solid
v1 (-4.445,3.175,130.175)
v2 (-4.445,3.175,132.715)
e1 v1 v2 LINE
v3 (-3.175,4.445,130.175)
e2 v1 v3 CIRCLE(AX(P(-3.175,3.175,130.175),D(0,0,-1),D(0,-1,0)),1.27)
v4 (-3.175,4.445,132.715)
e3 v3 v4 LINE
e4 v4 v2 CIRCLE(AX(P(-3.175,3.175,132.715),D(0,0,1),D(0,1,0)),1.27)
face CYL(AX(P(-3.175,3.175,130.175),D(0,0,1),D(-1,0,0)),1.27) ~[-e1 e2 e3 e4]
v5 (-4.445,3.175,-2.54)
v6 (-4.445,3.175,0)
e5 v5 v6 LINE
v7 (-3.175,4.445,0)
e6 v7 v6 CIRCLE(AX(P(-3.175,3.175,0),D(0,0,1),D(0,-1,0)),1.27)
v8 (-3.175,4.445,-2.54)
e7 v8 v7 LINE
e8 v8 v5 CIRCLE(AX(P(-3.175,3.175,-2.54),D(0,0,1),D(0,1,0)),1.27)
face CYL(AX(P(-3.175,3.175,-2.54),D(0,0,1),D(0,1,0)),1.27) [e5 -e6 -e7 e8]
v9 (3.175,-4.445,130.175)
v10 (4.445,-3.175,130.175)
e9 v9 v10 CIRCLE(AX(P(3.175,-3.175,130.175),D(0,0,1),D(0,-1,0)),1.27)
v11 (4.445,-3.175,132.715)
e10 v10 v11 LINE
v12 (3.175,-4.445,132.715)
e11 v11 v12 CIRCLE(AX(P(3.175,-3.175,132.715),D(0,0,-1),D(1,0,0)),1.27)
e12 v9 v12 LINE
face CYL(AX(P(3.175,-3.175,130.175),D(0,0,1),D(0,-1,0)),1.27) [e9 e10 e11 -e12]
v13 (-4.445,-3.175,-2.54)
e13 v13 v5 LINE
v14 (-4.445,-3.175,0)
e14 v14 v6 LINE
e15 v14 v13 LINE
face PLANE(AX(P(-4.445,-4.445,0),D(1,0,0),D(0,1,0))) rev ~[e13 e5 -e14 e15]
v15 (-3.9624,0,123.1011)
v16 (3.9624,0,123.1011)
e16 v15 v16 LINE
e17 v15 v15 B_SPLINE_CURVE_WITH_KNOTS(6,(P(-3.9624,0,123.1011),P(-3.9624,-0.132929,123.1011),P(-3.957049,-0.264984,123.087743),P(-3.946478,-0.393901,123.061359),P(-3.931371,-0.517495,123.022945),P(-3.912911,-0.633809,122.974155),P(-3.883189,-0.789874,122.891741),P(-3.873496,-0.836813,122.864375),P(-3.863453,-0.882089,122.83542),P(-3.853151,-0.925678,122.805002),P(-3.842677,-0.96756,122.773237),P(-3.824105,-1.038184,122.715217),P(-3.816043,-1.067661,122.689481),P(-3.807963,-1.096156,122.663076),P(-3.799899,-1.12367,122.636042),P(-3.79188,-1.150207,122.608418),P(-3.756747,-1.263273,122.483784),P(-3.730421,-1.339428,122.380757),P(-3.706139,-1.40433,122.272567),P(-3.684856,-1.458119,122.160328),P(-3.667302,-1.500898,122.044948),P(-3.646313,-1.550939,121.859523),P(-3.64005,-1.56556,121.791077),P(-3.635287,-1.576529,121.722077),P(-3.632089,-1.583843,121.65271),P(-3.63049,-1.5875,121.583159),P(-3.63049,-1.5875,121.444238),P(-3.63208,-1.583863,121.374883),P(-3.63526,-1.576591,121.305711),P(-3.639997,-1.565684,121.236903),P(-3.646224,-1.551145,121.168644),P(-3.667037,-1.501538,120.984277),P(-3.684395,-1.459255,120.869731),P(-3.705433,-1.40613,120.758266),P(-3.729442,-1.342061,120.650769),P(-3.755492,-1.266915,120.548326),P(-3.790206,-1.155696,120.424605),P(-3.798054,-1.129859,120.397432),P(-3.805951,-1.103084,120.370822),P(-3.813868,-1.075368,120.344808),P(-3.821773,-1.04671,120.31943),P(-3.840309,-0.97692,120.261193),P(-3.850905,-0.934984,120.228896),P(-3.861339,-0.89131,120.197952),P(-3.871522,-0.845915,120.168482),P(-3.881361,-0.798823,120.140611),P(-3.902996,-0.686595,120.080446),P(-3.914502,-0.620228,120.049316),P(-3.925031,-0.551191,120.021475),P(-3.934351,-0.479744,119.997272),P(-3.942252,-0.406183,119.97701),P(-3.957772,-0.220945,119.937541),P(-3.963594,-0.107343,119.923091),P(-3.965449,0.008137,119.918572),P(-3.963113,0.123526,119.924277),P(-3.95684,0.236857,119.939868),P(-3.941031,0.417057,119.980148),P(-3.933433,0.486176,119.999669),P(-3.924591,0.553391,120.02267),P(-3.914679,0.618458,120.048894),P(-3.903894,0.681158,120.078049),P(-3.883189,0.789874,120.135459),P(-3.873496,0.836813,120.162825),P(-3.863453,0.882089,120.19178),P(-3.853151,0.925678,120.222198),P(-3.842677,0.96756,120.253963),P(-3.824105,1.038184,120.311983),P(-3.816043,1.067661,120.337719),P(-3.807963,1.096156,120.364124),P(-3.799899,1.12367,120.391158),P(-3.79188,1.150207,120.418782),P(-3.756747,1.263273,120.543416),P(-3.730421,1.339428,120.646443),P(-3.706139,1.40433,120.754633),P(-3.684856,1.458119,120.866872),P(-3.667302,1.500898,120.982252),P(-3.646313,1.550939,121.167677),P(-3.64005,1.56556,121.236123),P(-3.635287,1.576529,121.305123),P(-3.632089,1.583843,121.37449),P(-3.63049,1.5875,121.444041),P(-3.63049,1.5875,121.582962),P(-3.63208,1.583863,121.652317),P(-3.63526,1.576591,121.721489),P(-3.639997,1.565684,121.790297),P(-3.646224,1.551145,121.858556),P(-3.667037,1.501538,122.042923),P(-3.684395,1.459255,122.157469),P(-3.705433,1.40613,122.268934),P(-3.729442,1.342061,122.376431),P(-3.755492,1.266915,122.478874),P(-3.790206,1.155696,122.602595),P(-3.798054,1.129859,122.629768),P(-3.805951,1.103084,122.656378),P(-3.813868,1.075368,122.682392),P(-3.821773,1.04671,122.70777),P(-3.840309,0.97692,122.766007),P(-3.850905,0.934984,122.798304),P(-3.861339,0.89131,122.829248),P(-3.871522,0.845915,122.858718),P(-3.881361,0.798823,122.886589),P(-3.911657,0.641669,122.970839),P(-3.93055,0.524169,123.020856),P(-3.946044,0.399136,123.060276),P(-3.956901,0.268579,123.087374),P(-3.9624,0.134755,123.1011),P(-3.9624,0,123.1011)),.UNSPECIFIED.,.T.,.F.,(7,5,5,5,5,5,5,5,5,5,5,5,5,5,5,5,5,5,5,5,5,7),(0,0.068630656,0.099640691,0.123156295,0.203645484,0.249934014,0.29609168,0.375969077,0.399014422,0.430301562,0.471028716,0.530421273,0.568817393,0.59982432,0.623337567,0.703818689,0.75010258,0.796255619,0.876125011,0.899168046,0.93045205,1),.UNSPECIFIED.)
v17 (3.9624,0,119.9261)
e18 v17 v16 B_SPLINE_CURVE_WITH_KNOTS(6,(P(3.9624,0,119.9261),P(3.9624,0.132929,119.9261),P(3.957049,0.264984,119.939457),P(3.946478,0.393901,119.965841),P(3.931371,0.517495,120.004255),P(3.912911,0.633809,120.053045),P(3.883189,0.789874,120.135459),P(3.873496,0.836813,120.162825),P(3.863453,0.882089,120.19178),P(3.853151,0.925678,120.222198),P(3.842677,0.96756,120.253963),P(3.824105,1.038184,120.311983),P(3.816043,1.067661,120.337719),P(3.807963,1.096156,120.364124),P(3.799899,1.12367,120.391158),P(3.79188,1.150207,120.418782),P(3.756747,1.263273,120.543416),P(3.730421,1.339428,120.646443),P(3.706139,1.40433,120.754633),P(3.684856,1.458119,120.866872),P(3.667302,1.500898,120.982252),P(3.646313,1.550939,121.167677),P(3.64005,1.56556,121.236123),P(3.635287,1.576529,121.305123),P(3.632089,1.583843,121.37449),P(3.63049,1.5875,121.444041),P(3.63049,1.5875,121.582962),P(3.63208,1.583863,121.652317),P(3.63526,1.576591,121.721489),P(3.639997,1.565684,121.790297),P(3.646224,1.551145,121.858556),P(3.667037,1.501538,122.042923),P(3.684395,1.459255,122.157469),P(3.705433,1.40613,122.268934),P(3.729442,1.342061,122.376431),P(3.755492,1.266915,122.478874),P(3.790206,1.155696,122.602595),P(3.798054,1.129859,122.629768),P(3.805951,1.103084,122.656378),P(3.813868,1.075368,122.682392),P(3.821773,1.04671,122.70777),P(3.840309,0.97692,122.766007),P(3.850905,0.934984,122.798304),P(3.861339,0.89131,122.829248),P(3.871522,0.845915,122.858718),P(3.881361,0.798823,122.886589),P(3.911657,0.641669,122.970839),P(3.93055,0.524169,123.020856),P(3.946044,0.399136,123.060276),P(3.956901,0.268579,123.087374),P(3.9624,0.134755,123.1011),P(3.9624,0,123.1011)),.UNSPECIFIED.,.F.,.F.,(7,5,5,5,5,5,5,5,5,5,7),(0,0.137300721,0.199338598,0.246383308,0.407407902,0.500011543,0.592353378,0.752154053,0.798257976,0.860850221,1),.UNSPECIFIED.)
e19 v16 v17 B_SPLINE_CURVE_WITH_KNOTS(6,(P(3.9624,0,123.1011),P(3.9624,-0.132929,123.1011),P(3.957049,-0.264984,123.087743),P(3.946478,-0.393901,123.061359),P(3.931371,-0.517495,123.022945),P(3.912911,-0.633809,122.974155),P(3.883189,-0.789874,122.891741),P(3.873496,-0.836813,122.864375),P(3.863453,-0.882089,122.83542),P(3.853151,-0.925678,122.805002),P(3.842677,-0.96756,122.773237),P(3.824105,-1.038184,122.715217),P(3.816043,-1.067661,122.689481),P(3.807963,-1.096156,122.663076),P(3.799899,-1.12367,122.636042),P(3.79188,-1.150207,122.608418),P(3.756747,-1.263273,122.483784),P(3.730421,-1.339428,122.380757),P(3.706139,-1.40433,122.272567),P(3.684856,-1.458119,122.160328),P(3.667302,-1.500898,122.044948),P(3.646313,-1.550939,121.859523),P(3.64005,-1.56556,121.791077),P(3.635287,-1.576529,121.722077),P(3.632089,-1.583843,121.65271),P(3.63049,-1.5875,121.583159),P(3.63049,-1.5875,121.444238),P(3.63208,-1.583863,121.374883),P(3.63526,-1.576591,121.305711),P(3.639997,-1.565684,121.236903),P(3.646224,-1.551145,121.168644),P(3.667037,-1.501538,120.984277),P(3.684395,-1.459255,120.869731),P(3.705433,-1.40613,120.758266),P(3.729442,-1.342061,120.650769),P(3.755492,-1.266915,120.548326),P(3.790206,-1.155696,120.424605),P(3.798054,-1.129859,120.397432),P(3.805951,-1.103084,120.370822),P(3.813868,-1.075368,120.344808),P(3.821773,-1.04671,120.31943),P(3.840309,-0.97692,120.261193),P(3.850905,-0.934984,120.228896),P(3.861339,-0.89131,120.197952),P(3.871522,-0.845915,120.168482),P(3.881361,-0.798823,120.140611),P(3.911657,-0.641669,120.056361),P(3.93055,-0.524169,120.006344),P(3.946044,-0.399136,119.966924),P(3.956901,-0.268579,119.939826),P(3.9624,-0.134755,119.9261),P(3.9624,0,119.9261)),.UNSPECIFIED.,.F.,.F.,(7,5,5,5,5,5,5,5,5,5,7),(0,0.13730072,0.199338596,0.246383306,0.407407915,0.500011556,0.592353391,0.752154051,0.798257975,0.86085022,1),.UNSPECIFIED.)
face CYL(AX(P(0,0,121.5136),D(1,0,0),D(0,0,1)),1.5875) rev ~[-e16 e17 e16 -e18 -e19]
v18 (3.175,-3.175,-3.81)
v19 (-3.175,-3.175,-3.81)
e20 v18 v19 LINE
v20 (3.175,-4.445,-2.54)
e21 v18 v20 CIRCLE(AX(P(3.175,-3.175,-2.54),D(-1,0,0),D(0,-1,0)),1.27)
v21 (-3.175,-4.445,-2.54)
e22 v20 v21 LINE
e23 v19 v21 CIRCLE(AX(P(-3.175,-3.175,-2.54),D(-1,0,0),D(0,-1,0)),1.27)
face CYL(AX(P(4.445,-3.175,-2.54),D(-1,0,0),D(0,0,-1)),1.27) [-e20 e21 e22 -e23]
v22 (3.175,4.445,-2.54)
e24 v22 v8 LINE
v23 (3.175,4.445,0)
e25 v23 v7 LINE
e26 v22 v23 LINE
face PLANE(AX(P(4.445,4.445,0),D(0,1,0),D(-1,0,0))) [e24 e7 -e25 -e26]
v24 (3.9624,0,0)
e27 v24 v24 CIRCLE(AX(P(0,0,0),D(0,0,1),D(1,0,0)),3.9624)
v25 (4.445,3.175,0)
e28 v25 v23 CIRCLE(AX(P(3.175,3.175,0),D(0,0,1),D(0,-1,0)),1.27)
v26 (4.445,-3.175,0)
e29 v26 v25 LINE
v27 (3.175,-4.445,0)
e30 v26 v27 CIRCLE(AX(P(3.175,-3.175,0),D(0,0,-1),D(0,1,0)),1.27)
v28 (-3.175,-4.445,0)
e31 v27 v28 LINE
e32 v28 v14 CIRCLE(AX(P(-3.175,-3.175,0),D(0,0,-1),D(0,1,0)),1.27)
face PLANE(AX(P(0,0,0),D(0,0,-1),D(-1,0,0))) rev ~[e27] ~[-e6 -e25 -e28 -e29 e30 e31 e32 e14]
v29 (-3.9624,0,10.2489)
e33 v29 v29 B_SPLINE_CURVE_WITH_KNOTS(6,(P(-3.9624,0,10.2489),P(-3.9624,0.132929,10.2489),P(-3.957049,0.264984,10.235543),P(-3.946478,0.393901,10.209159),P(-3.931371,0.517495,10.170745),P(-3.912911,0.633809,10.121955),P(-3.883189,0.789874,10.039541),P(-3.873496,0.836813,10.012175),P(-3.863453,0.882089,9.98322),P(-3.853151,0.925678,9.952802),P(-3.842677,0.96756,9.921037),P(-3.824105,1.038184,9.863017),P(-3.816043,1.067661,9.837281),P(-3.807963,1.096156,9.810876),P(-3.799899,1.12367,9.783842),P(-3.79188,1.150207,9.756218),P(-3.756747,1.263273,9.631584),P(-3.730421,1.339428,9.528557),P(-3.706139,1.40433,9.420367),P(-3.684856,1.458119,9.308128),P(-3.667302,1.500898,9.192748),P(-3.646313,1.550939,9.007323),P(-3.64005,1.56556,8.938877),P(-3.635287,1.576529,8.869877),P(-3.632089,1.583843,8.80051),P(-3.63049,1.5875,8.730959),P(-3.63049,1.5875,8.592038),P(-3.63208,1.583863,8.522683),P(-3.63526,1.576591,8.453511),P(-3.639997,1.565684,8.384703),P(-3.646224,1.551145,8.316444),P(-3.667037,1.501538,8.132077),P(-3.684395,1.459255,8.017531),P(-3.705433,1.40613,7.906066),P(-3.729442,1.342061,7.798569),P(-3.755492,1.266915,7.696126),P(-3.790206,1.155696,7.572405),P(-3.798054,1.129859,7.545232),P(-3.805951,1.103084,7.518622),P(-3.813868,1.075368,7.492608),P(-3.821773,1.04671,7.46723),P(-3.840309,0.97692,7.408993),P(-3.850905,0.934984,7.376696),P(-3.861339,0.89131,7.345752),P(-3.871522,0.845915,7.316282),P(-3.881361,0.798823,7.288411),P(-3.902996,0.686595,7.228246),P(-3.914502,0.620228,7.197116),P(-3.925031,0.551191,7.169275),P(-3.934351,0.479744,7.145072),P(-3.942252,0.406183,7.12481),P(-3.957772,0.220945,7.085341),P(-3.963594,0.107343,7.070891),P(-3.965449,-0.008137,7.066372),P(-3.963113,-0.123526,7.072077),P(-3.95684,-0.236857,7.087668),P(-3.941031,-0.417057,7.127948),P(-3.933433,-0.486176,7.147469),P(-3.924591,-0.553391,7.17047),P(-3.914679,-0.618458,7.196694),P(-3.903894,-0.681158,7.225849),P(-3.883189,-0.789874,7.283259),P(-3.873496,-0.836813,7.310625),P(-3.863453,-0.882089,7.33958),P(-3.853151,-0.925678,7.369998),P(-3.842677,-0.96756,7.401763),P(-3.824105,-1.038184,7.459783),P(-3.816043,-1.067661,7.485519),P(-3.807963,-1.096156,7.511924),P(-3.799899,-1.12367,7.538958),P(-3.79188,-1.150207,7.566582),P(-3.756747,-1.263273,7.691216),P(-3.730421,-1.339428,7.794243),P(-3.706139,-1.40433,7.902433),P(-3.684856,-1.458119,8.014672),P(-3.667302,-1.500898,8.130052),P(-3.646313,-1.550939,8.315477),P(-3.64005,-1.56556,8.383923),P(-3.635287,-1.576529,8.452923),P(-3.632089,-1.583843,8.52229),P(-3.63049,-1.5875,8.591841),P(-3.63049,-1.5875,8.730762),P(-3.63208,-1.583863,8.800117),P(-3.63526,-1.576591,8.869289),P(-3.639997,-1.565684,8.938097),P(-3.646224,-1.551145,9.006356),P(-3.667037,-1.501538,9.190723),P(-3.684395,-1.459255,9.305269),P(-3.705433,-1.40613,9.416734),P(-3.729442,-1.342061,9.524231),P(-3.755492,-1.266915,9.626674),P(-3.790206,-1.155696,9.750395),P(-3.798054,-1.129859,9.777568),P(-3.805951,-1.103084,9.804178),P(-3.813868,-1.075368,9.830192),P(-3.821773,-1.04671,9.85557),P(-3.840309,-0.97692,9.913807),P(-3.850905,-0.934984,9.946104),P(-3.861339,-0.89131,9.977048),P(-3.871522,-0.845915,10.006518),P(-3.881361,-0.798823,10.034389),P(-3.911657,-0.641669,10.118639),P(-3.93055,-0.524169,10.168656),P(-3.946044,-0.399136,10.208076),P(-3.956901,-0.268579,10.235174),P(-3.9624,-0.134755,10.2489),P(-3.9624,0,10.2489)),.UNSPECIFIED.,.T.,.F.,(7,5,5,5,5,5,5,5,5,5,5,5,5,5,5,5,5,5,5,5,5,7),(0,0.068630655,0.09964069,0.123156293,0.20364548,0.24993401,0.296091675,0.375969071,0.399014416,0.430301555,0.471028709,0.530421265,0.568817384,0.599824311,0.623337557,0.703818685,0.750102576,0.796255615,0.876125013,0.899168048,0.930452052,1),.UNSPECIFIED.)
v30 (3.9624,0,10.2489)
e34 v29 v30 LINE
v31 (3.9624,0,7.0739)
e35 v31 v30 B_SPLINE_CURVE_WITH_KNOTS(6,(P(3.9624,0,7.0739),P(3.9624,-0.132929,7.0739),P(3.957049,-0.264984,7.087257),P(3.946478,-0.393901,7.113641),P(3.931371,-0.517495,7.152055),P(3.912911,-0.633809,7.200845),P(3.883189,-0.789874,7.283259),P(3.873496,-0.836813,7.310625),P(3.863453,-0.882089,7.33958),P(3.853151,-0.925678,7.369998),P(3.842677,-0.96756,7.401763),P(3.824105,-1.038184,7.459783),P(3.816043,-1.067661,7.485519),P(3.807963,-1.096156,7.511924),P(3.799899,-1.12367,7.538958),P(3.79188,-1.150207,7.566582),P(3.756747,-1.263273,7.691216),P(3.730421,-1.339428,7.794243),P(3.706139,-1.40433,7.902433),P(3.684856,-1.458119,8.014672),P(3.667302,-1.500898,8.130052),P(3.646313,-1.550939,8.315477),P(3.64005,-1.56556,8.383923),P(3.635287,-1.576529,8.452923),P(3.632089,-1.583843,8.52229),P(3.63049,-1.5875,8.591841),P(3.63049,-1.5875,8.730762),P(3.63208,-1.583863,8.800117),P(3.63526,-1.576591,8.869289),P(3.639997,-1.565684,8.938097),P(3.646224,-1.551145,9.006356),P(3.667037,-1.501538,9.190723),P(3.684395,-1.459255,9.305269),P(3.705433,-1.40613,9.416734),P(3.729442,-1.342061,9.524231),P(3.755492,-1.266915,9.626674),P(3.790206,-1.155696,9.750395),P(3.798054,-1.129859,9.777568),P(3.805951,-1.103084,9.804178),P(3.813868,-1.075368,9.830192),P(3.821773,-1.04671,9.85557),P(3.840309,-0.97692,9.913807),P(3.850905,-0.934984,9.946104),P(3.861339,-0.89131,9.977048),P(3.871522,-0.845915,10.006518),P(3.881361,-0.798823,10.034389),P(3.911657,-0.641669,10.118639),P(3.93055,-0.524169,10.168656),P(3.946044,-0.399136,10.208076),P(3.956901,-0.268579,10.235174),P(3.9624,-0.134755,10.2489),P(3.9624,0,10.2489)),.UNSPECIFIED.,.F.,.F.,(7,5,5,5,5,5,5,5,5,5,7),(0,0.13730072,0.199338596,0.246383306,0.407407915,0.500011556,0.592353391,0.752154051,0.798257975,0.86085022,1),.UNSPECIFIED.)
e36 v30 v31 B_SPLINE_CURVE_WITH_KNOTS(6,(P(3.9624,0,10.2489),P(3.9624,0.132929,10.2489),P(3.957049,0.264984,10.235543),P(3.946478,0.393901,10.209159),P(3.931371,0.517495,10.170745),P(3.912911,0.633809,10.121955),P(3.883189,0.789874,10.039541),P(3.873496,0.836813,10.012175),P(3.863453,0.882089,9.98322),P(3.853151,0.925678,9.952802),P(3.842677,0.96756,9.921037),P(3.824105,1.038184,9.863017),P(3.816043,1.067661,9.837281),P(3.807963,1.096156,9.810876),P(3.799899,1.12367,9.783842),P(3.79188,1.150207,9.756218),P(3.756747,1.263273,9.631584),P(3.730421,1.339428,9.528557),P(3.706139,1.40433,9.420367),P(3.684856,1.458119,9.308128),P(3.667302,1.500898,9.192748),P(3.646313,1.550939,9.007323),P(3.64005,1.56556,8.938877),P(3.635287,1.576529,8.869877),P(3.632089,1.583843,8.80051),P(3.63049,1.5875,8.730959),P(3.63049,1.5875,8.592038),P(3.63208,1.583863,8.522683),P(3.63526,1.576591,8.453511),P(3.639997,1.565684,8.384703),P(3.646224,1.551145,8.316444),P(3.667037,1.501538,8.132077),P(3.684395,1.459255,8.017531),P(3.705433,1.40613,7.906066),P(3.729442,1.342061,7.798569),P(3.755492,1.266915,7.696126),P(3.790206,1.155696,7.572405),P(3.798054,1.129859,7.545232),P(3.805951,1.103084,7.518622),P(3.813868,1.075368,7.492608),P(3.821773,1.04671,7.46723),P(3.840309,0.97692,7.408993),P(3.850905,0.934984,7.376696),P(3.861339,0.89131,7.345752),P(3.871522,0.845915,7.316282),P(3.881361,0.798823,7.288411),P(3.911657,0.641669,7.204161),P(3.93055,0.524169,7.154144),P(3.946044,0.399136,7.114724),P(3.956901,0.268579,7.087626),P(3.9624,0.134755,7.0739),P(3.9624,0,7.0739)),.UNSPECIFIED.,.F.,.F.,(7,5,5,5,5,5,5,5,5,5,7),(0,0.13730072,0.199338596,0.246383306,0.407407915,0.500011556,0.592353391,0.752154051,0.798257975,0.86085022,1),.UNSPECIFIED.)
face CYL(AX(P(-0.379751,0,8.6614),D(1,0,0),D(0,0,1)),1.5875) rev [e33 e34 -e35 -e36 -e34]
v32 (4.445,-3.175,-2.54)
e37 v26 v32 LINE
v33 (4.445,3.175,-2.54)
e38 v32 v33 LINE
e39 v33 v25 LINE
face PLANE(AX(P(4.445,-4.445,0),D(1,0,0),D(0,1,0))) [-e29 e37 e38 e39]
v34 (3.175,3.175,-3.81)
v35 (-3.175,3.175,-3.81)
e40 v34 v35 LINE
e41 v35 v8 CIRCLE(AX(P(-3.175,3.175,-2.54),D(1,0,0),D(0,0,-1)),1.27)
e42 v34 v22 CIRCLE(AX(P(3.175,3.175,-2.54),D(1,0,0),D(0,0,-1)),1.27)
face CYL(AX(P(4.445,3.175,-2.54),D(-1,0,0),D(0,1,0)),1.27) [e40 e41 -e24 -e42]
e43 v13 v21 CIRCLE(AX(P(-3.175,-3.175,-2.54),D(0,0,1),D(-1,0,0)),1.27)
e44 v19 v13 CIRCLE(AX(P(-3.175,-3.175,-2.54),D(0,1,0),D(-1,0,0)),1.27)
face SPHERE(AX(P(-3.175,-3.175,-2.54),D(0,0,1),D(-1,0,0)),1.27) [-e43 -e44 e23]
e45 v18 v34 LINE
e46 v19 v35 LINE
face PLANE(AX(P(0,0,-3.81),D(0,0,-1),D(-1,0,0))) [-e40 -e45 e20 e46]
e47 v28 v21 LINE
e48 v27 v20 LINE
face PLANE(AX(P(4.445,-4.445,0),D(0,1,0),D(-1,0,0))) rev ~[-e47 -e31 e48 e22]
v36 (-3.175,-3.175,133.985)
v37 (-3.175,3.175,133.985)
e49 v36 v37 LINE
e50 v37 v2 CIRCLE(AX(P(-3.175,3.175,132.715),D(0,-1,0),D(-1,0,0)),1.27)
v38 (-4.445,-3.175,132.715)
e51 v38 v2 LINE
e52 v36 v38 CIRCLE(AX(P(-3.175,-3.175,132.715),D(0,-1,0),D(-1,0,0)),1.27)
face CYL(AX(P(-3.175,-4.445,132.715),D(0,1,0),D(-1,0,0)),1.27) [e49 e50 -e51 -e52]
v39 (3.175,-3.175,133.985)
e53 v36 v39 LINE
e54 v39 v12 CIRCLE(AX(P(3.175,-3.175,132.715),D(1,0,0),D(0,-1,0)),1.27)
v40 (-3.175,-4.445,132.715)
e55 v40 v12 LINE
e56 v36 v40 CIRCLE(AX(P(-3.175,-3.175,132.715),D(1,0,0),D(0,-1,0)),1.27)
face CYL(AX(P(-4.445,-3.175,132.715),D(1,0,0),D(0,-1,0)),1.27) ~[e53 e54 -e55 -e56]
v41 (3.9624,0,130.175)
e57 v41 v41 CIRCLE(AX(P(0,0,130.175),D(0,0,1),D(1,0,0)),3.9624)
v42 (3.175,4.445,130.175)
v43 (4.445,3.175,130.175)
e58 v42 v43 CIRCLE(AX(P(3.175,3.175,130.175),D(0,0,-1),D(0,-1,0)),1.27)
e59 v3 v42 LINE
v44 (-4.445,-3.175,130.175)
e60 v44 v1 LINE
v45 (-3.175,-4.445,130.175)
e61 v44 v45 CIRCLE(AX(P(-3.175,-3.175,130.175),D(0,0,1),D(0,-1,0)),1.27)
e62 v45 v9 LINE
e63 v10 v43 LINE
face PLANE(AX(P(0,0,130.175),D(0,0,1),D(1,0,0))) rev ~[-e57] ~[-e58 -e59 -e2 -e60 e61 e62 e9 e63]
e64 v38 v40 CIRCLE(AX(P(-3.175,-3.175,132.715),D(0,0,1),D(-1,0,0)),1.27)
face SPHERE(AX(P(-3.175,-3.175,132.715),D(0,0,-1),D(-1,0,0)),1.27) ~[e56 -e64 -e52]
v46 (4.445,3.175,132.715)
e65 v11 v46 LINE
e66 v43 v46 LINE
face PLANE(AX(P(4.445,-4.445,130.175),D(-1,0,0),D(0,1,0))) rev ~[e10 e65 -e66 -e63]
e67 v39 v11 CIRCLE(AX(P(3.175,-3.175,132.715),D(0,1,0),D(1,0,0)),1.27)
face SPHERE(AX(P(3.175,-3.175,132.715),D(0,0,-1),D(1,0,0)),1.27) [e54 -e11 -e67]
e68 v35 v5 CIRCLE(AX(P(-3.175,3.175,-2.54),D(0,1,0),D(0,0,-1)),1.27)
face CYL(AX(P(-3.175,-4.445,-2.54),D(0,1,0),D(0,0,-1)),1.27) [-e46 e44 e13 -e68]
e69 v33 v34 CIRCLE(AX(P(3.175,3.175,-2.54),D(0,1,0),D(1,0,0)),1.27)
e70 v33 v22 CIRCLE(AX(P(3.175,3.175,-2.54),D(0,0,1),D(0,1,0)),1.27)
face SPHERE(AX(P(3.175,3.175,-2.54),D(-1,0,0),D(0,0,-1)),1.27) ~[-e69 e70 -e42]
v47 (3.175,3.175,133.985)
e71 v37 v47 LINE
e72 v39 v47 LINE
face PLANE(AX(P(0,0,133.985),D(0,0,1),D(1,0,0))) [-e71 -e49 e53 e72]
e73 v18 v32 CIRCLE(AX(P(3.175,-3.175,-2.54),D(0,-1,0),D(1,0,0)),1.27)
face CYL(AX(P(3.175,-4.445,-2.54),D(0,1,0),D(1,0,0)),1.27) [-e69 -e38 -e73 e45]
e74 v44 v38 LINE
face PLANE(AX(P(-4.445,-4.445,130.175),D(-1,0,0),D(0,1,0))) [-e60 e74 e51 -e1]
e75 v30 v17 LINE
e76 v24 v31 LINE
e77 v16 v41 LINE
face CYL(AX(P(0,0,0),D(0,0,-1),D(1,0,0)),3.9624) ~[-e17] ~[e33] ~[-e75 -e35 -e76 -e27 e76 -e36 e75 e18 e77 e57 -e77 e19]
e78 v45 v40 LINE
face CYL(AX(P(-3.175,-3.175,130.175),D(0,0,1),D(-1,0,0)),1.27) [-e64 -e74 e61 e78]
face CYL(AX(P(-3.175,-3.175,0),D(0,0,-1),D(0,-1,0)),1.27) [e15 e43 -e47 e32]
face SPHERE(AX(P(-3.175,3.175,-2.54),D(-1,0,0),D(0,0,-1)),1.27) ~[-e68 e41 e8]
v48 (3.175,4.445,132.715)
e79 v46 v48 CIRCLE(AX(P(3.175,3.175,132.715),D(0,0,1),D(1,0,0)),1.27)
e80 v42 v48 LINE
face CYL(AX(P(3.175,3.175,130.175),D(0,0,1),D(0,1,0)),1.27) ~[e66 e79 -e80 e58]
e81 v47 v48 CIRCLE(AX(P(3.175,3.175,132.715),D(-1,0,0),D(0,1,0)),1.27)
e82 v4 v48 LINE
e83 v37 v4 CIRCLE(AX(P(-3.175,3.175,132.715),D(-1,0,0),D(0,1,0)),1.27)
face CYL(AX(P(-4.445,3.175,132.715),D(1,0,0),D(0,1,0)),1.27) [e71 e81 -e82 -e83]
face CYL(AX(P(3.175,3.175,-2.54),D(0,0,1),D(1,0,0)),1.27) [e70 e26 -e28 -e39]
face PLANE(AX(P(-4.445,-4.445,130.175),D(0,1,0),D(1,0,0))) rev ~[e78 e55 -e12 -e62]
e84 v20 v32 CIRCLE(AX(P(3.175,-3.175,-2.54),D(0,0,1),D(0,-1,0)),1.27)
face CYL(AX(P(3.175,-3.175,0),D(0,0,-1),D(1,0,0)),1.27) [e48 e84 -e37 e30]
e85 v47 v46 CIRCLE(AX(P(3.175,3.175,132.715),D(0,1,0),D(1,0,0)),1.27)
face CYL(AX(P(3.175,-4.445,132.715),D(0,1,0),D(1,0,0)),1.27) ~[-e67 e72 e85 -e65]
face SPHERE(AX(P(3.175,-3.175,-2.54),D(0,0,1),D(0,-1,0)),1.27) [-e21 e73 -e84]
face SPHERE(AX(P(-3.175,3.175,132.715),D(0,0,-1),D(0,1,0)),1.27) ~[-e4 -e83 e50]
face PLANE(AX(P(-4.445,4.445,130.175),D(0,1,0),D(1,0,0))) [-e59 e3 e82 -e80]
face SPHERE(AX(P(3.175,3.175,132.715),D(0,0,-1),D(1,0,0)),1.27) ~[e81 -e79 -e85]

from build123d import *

# Parameters (mm, degrees)
SKETCH2_R           = 3.9624
BOSS_EXTRUDE1_DEPTH = 130.175
SKETCH3_W           = 16.328349939
SKETCH3_H           = 1.5875
SKETCH6_W           = 7.9248
SKETCH6_H           = 1.5875
SKETCH7_W           = 8.89
SKETCH7_H           = 8.89
BOSS_EXTRUDE2_DEPTH = 3.81
SKETCH8_W           = 8.89
SKETCH8_H           = 8.89
BOSS_EXTRUDE3_DEPTH = 3.81
FILLET1_R           = 1.27
FILLET2_R           = 1.27
FILLET3_R           = 1.27


with BuildPart() as part:
    # Sketch2 → Boss-Extrude1 (new body)
    with BuildSketch(Plane.XY):
        Circle(SKETCH2_R)
    extrude(amount=BOSS_EXTRUDE1_DEPTH)

    # Sketch3 → Cut-Revolve2 (revolve, cut)
    with BuildSketch(Plane(origin=(0, 0, 0), x_dir=(1, 0, 0), z_dir=(0, 1, 0)), mode=Mode.PRIVATE) as cut_revolve2_sk:
        with Locations((-0.379751444, -7.86765)):
            Rectangle(SKETCH3_W, SKETCH3_H)
    revolve(cut_revolve2_sk.sketch.rotate(Axis((7.784423526, 0, 8.6614), (-1, 0, 0)), 179.999999998), axis=Axis((7.784423526, 0, 8.6614), (-1, 0, 0)), mode=Mode.SUBTRACT)

    # Sketch6 → Cut-Revolve4 (revolve, cut)
    with BuildSketch(Plane(origin=(0, 0, 0), x_dir=(1, 0, 0), z_dir=(0, 1, 0))):
        with Locations((0, -122.30735)):
            Rectangle(SKETCH6_W, SKETCH6_H)
    revolve(axis=Axis((-3.9624, 0, 121.5136), (1, 0, 0)), mode=Mode.SUBTRACT)

    # Sketch7 → Boss-Extrude2 (add)
    with BuildSketch(Plane.XY.offset(130.175)):
        Rectangle(SKETCH7_W, SKETCH7_H)
    extrude(amount=BOSS_EXTRUDE2_DEPTH)

    # Sketch8 → Boss-Extrude3 (add)
    with BuildSketch(Plane(origin=(0, 0, 0), x_dir=(-1, 0, 0), z_dir=(0, 0, -1))):
        Rectangle(SKETCH8_W, SKETCH8_H)
    extrude(amount=BOSS_EXTRUDE3_DEPTH)

    # Fillet1
    fillet1_edges = [part.edges().sort_by_distance(p)[0] for p in [
        (0, 4.445, -3.81),
    ]]
    fillet(fillet1_edges, radius=FILLET1_R)

    # Fillet2
    fillet2_edges = [part.edges().sort_by_distance(p)[0] for p in [
        (-4.445, -4.445, -1.905),
        (4.445, -4.445, -1.905),
        (-4.445, -0.635, -3.81),
        (0, -4.445, -3.81),
        (4.445, -0.635, -3.81),
        (4.445, 4.445, -1.27),
        (4.445, 4.073025612, -3.438025612),
        (-4.445, 4.445, -1.27),
        (-4.445, 4.073025612, -3.438025612),
    ]]
    fillet(fillet2_edges, radius=FILLET2_R)

    # Fillet3
    fillet3_edges = [part.edges().sort_by_distance(p)[0] for p in [
        (4.445, -4.445, 132.08),
        (4.445, 4.445, 132.08),
        (-4.445, 4.445, 132.08),
        (-4.445, -4.445, 132.08),
        (4.445, 0, 133.985),
        (0, 4.445, 133.985),
        (-4.445, 0, 133.985),
        (0, -4.445, 133.985),
    ]]
    fillet(fillet3_edges, radius=FILLET3_R)


solid = part.part
